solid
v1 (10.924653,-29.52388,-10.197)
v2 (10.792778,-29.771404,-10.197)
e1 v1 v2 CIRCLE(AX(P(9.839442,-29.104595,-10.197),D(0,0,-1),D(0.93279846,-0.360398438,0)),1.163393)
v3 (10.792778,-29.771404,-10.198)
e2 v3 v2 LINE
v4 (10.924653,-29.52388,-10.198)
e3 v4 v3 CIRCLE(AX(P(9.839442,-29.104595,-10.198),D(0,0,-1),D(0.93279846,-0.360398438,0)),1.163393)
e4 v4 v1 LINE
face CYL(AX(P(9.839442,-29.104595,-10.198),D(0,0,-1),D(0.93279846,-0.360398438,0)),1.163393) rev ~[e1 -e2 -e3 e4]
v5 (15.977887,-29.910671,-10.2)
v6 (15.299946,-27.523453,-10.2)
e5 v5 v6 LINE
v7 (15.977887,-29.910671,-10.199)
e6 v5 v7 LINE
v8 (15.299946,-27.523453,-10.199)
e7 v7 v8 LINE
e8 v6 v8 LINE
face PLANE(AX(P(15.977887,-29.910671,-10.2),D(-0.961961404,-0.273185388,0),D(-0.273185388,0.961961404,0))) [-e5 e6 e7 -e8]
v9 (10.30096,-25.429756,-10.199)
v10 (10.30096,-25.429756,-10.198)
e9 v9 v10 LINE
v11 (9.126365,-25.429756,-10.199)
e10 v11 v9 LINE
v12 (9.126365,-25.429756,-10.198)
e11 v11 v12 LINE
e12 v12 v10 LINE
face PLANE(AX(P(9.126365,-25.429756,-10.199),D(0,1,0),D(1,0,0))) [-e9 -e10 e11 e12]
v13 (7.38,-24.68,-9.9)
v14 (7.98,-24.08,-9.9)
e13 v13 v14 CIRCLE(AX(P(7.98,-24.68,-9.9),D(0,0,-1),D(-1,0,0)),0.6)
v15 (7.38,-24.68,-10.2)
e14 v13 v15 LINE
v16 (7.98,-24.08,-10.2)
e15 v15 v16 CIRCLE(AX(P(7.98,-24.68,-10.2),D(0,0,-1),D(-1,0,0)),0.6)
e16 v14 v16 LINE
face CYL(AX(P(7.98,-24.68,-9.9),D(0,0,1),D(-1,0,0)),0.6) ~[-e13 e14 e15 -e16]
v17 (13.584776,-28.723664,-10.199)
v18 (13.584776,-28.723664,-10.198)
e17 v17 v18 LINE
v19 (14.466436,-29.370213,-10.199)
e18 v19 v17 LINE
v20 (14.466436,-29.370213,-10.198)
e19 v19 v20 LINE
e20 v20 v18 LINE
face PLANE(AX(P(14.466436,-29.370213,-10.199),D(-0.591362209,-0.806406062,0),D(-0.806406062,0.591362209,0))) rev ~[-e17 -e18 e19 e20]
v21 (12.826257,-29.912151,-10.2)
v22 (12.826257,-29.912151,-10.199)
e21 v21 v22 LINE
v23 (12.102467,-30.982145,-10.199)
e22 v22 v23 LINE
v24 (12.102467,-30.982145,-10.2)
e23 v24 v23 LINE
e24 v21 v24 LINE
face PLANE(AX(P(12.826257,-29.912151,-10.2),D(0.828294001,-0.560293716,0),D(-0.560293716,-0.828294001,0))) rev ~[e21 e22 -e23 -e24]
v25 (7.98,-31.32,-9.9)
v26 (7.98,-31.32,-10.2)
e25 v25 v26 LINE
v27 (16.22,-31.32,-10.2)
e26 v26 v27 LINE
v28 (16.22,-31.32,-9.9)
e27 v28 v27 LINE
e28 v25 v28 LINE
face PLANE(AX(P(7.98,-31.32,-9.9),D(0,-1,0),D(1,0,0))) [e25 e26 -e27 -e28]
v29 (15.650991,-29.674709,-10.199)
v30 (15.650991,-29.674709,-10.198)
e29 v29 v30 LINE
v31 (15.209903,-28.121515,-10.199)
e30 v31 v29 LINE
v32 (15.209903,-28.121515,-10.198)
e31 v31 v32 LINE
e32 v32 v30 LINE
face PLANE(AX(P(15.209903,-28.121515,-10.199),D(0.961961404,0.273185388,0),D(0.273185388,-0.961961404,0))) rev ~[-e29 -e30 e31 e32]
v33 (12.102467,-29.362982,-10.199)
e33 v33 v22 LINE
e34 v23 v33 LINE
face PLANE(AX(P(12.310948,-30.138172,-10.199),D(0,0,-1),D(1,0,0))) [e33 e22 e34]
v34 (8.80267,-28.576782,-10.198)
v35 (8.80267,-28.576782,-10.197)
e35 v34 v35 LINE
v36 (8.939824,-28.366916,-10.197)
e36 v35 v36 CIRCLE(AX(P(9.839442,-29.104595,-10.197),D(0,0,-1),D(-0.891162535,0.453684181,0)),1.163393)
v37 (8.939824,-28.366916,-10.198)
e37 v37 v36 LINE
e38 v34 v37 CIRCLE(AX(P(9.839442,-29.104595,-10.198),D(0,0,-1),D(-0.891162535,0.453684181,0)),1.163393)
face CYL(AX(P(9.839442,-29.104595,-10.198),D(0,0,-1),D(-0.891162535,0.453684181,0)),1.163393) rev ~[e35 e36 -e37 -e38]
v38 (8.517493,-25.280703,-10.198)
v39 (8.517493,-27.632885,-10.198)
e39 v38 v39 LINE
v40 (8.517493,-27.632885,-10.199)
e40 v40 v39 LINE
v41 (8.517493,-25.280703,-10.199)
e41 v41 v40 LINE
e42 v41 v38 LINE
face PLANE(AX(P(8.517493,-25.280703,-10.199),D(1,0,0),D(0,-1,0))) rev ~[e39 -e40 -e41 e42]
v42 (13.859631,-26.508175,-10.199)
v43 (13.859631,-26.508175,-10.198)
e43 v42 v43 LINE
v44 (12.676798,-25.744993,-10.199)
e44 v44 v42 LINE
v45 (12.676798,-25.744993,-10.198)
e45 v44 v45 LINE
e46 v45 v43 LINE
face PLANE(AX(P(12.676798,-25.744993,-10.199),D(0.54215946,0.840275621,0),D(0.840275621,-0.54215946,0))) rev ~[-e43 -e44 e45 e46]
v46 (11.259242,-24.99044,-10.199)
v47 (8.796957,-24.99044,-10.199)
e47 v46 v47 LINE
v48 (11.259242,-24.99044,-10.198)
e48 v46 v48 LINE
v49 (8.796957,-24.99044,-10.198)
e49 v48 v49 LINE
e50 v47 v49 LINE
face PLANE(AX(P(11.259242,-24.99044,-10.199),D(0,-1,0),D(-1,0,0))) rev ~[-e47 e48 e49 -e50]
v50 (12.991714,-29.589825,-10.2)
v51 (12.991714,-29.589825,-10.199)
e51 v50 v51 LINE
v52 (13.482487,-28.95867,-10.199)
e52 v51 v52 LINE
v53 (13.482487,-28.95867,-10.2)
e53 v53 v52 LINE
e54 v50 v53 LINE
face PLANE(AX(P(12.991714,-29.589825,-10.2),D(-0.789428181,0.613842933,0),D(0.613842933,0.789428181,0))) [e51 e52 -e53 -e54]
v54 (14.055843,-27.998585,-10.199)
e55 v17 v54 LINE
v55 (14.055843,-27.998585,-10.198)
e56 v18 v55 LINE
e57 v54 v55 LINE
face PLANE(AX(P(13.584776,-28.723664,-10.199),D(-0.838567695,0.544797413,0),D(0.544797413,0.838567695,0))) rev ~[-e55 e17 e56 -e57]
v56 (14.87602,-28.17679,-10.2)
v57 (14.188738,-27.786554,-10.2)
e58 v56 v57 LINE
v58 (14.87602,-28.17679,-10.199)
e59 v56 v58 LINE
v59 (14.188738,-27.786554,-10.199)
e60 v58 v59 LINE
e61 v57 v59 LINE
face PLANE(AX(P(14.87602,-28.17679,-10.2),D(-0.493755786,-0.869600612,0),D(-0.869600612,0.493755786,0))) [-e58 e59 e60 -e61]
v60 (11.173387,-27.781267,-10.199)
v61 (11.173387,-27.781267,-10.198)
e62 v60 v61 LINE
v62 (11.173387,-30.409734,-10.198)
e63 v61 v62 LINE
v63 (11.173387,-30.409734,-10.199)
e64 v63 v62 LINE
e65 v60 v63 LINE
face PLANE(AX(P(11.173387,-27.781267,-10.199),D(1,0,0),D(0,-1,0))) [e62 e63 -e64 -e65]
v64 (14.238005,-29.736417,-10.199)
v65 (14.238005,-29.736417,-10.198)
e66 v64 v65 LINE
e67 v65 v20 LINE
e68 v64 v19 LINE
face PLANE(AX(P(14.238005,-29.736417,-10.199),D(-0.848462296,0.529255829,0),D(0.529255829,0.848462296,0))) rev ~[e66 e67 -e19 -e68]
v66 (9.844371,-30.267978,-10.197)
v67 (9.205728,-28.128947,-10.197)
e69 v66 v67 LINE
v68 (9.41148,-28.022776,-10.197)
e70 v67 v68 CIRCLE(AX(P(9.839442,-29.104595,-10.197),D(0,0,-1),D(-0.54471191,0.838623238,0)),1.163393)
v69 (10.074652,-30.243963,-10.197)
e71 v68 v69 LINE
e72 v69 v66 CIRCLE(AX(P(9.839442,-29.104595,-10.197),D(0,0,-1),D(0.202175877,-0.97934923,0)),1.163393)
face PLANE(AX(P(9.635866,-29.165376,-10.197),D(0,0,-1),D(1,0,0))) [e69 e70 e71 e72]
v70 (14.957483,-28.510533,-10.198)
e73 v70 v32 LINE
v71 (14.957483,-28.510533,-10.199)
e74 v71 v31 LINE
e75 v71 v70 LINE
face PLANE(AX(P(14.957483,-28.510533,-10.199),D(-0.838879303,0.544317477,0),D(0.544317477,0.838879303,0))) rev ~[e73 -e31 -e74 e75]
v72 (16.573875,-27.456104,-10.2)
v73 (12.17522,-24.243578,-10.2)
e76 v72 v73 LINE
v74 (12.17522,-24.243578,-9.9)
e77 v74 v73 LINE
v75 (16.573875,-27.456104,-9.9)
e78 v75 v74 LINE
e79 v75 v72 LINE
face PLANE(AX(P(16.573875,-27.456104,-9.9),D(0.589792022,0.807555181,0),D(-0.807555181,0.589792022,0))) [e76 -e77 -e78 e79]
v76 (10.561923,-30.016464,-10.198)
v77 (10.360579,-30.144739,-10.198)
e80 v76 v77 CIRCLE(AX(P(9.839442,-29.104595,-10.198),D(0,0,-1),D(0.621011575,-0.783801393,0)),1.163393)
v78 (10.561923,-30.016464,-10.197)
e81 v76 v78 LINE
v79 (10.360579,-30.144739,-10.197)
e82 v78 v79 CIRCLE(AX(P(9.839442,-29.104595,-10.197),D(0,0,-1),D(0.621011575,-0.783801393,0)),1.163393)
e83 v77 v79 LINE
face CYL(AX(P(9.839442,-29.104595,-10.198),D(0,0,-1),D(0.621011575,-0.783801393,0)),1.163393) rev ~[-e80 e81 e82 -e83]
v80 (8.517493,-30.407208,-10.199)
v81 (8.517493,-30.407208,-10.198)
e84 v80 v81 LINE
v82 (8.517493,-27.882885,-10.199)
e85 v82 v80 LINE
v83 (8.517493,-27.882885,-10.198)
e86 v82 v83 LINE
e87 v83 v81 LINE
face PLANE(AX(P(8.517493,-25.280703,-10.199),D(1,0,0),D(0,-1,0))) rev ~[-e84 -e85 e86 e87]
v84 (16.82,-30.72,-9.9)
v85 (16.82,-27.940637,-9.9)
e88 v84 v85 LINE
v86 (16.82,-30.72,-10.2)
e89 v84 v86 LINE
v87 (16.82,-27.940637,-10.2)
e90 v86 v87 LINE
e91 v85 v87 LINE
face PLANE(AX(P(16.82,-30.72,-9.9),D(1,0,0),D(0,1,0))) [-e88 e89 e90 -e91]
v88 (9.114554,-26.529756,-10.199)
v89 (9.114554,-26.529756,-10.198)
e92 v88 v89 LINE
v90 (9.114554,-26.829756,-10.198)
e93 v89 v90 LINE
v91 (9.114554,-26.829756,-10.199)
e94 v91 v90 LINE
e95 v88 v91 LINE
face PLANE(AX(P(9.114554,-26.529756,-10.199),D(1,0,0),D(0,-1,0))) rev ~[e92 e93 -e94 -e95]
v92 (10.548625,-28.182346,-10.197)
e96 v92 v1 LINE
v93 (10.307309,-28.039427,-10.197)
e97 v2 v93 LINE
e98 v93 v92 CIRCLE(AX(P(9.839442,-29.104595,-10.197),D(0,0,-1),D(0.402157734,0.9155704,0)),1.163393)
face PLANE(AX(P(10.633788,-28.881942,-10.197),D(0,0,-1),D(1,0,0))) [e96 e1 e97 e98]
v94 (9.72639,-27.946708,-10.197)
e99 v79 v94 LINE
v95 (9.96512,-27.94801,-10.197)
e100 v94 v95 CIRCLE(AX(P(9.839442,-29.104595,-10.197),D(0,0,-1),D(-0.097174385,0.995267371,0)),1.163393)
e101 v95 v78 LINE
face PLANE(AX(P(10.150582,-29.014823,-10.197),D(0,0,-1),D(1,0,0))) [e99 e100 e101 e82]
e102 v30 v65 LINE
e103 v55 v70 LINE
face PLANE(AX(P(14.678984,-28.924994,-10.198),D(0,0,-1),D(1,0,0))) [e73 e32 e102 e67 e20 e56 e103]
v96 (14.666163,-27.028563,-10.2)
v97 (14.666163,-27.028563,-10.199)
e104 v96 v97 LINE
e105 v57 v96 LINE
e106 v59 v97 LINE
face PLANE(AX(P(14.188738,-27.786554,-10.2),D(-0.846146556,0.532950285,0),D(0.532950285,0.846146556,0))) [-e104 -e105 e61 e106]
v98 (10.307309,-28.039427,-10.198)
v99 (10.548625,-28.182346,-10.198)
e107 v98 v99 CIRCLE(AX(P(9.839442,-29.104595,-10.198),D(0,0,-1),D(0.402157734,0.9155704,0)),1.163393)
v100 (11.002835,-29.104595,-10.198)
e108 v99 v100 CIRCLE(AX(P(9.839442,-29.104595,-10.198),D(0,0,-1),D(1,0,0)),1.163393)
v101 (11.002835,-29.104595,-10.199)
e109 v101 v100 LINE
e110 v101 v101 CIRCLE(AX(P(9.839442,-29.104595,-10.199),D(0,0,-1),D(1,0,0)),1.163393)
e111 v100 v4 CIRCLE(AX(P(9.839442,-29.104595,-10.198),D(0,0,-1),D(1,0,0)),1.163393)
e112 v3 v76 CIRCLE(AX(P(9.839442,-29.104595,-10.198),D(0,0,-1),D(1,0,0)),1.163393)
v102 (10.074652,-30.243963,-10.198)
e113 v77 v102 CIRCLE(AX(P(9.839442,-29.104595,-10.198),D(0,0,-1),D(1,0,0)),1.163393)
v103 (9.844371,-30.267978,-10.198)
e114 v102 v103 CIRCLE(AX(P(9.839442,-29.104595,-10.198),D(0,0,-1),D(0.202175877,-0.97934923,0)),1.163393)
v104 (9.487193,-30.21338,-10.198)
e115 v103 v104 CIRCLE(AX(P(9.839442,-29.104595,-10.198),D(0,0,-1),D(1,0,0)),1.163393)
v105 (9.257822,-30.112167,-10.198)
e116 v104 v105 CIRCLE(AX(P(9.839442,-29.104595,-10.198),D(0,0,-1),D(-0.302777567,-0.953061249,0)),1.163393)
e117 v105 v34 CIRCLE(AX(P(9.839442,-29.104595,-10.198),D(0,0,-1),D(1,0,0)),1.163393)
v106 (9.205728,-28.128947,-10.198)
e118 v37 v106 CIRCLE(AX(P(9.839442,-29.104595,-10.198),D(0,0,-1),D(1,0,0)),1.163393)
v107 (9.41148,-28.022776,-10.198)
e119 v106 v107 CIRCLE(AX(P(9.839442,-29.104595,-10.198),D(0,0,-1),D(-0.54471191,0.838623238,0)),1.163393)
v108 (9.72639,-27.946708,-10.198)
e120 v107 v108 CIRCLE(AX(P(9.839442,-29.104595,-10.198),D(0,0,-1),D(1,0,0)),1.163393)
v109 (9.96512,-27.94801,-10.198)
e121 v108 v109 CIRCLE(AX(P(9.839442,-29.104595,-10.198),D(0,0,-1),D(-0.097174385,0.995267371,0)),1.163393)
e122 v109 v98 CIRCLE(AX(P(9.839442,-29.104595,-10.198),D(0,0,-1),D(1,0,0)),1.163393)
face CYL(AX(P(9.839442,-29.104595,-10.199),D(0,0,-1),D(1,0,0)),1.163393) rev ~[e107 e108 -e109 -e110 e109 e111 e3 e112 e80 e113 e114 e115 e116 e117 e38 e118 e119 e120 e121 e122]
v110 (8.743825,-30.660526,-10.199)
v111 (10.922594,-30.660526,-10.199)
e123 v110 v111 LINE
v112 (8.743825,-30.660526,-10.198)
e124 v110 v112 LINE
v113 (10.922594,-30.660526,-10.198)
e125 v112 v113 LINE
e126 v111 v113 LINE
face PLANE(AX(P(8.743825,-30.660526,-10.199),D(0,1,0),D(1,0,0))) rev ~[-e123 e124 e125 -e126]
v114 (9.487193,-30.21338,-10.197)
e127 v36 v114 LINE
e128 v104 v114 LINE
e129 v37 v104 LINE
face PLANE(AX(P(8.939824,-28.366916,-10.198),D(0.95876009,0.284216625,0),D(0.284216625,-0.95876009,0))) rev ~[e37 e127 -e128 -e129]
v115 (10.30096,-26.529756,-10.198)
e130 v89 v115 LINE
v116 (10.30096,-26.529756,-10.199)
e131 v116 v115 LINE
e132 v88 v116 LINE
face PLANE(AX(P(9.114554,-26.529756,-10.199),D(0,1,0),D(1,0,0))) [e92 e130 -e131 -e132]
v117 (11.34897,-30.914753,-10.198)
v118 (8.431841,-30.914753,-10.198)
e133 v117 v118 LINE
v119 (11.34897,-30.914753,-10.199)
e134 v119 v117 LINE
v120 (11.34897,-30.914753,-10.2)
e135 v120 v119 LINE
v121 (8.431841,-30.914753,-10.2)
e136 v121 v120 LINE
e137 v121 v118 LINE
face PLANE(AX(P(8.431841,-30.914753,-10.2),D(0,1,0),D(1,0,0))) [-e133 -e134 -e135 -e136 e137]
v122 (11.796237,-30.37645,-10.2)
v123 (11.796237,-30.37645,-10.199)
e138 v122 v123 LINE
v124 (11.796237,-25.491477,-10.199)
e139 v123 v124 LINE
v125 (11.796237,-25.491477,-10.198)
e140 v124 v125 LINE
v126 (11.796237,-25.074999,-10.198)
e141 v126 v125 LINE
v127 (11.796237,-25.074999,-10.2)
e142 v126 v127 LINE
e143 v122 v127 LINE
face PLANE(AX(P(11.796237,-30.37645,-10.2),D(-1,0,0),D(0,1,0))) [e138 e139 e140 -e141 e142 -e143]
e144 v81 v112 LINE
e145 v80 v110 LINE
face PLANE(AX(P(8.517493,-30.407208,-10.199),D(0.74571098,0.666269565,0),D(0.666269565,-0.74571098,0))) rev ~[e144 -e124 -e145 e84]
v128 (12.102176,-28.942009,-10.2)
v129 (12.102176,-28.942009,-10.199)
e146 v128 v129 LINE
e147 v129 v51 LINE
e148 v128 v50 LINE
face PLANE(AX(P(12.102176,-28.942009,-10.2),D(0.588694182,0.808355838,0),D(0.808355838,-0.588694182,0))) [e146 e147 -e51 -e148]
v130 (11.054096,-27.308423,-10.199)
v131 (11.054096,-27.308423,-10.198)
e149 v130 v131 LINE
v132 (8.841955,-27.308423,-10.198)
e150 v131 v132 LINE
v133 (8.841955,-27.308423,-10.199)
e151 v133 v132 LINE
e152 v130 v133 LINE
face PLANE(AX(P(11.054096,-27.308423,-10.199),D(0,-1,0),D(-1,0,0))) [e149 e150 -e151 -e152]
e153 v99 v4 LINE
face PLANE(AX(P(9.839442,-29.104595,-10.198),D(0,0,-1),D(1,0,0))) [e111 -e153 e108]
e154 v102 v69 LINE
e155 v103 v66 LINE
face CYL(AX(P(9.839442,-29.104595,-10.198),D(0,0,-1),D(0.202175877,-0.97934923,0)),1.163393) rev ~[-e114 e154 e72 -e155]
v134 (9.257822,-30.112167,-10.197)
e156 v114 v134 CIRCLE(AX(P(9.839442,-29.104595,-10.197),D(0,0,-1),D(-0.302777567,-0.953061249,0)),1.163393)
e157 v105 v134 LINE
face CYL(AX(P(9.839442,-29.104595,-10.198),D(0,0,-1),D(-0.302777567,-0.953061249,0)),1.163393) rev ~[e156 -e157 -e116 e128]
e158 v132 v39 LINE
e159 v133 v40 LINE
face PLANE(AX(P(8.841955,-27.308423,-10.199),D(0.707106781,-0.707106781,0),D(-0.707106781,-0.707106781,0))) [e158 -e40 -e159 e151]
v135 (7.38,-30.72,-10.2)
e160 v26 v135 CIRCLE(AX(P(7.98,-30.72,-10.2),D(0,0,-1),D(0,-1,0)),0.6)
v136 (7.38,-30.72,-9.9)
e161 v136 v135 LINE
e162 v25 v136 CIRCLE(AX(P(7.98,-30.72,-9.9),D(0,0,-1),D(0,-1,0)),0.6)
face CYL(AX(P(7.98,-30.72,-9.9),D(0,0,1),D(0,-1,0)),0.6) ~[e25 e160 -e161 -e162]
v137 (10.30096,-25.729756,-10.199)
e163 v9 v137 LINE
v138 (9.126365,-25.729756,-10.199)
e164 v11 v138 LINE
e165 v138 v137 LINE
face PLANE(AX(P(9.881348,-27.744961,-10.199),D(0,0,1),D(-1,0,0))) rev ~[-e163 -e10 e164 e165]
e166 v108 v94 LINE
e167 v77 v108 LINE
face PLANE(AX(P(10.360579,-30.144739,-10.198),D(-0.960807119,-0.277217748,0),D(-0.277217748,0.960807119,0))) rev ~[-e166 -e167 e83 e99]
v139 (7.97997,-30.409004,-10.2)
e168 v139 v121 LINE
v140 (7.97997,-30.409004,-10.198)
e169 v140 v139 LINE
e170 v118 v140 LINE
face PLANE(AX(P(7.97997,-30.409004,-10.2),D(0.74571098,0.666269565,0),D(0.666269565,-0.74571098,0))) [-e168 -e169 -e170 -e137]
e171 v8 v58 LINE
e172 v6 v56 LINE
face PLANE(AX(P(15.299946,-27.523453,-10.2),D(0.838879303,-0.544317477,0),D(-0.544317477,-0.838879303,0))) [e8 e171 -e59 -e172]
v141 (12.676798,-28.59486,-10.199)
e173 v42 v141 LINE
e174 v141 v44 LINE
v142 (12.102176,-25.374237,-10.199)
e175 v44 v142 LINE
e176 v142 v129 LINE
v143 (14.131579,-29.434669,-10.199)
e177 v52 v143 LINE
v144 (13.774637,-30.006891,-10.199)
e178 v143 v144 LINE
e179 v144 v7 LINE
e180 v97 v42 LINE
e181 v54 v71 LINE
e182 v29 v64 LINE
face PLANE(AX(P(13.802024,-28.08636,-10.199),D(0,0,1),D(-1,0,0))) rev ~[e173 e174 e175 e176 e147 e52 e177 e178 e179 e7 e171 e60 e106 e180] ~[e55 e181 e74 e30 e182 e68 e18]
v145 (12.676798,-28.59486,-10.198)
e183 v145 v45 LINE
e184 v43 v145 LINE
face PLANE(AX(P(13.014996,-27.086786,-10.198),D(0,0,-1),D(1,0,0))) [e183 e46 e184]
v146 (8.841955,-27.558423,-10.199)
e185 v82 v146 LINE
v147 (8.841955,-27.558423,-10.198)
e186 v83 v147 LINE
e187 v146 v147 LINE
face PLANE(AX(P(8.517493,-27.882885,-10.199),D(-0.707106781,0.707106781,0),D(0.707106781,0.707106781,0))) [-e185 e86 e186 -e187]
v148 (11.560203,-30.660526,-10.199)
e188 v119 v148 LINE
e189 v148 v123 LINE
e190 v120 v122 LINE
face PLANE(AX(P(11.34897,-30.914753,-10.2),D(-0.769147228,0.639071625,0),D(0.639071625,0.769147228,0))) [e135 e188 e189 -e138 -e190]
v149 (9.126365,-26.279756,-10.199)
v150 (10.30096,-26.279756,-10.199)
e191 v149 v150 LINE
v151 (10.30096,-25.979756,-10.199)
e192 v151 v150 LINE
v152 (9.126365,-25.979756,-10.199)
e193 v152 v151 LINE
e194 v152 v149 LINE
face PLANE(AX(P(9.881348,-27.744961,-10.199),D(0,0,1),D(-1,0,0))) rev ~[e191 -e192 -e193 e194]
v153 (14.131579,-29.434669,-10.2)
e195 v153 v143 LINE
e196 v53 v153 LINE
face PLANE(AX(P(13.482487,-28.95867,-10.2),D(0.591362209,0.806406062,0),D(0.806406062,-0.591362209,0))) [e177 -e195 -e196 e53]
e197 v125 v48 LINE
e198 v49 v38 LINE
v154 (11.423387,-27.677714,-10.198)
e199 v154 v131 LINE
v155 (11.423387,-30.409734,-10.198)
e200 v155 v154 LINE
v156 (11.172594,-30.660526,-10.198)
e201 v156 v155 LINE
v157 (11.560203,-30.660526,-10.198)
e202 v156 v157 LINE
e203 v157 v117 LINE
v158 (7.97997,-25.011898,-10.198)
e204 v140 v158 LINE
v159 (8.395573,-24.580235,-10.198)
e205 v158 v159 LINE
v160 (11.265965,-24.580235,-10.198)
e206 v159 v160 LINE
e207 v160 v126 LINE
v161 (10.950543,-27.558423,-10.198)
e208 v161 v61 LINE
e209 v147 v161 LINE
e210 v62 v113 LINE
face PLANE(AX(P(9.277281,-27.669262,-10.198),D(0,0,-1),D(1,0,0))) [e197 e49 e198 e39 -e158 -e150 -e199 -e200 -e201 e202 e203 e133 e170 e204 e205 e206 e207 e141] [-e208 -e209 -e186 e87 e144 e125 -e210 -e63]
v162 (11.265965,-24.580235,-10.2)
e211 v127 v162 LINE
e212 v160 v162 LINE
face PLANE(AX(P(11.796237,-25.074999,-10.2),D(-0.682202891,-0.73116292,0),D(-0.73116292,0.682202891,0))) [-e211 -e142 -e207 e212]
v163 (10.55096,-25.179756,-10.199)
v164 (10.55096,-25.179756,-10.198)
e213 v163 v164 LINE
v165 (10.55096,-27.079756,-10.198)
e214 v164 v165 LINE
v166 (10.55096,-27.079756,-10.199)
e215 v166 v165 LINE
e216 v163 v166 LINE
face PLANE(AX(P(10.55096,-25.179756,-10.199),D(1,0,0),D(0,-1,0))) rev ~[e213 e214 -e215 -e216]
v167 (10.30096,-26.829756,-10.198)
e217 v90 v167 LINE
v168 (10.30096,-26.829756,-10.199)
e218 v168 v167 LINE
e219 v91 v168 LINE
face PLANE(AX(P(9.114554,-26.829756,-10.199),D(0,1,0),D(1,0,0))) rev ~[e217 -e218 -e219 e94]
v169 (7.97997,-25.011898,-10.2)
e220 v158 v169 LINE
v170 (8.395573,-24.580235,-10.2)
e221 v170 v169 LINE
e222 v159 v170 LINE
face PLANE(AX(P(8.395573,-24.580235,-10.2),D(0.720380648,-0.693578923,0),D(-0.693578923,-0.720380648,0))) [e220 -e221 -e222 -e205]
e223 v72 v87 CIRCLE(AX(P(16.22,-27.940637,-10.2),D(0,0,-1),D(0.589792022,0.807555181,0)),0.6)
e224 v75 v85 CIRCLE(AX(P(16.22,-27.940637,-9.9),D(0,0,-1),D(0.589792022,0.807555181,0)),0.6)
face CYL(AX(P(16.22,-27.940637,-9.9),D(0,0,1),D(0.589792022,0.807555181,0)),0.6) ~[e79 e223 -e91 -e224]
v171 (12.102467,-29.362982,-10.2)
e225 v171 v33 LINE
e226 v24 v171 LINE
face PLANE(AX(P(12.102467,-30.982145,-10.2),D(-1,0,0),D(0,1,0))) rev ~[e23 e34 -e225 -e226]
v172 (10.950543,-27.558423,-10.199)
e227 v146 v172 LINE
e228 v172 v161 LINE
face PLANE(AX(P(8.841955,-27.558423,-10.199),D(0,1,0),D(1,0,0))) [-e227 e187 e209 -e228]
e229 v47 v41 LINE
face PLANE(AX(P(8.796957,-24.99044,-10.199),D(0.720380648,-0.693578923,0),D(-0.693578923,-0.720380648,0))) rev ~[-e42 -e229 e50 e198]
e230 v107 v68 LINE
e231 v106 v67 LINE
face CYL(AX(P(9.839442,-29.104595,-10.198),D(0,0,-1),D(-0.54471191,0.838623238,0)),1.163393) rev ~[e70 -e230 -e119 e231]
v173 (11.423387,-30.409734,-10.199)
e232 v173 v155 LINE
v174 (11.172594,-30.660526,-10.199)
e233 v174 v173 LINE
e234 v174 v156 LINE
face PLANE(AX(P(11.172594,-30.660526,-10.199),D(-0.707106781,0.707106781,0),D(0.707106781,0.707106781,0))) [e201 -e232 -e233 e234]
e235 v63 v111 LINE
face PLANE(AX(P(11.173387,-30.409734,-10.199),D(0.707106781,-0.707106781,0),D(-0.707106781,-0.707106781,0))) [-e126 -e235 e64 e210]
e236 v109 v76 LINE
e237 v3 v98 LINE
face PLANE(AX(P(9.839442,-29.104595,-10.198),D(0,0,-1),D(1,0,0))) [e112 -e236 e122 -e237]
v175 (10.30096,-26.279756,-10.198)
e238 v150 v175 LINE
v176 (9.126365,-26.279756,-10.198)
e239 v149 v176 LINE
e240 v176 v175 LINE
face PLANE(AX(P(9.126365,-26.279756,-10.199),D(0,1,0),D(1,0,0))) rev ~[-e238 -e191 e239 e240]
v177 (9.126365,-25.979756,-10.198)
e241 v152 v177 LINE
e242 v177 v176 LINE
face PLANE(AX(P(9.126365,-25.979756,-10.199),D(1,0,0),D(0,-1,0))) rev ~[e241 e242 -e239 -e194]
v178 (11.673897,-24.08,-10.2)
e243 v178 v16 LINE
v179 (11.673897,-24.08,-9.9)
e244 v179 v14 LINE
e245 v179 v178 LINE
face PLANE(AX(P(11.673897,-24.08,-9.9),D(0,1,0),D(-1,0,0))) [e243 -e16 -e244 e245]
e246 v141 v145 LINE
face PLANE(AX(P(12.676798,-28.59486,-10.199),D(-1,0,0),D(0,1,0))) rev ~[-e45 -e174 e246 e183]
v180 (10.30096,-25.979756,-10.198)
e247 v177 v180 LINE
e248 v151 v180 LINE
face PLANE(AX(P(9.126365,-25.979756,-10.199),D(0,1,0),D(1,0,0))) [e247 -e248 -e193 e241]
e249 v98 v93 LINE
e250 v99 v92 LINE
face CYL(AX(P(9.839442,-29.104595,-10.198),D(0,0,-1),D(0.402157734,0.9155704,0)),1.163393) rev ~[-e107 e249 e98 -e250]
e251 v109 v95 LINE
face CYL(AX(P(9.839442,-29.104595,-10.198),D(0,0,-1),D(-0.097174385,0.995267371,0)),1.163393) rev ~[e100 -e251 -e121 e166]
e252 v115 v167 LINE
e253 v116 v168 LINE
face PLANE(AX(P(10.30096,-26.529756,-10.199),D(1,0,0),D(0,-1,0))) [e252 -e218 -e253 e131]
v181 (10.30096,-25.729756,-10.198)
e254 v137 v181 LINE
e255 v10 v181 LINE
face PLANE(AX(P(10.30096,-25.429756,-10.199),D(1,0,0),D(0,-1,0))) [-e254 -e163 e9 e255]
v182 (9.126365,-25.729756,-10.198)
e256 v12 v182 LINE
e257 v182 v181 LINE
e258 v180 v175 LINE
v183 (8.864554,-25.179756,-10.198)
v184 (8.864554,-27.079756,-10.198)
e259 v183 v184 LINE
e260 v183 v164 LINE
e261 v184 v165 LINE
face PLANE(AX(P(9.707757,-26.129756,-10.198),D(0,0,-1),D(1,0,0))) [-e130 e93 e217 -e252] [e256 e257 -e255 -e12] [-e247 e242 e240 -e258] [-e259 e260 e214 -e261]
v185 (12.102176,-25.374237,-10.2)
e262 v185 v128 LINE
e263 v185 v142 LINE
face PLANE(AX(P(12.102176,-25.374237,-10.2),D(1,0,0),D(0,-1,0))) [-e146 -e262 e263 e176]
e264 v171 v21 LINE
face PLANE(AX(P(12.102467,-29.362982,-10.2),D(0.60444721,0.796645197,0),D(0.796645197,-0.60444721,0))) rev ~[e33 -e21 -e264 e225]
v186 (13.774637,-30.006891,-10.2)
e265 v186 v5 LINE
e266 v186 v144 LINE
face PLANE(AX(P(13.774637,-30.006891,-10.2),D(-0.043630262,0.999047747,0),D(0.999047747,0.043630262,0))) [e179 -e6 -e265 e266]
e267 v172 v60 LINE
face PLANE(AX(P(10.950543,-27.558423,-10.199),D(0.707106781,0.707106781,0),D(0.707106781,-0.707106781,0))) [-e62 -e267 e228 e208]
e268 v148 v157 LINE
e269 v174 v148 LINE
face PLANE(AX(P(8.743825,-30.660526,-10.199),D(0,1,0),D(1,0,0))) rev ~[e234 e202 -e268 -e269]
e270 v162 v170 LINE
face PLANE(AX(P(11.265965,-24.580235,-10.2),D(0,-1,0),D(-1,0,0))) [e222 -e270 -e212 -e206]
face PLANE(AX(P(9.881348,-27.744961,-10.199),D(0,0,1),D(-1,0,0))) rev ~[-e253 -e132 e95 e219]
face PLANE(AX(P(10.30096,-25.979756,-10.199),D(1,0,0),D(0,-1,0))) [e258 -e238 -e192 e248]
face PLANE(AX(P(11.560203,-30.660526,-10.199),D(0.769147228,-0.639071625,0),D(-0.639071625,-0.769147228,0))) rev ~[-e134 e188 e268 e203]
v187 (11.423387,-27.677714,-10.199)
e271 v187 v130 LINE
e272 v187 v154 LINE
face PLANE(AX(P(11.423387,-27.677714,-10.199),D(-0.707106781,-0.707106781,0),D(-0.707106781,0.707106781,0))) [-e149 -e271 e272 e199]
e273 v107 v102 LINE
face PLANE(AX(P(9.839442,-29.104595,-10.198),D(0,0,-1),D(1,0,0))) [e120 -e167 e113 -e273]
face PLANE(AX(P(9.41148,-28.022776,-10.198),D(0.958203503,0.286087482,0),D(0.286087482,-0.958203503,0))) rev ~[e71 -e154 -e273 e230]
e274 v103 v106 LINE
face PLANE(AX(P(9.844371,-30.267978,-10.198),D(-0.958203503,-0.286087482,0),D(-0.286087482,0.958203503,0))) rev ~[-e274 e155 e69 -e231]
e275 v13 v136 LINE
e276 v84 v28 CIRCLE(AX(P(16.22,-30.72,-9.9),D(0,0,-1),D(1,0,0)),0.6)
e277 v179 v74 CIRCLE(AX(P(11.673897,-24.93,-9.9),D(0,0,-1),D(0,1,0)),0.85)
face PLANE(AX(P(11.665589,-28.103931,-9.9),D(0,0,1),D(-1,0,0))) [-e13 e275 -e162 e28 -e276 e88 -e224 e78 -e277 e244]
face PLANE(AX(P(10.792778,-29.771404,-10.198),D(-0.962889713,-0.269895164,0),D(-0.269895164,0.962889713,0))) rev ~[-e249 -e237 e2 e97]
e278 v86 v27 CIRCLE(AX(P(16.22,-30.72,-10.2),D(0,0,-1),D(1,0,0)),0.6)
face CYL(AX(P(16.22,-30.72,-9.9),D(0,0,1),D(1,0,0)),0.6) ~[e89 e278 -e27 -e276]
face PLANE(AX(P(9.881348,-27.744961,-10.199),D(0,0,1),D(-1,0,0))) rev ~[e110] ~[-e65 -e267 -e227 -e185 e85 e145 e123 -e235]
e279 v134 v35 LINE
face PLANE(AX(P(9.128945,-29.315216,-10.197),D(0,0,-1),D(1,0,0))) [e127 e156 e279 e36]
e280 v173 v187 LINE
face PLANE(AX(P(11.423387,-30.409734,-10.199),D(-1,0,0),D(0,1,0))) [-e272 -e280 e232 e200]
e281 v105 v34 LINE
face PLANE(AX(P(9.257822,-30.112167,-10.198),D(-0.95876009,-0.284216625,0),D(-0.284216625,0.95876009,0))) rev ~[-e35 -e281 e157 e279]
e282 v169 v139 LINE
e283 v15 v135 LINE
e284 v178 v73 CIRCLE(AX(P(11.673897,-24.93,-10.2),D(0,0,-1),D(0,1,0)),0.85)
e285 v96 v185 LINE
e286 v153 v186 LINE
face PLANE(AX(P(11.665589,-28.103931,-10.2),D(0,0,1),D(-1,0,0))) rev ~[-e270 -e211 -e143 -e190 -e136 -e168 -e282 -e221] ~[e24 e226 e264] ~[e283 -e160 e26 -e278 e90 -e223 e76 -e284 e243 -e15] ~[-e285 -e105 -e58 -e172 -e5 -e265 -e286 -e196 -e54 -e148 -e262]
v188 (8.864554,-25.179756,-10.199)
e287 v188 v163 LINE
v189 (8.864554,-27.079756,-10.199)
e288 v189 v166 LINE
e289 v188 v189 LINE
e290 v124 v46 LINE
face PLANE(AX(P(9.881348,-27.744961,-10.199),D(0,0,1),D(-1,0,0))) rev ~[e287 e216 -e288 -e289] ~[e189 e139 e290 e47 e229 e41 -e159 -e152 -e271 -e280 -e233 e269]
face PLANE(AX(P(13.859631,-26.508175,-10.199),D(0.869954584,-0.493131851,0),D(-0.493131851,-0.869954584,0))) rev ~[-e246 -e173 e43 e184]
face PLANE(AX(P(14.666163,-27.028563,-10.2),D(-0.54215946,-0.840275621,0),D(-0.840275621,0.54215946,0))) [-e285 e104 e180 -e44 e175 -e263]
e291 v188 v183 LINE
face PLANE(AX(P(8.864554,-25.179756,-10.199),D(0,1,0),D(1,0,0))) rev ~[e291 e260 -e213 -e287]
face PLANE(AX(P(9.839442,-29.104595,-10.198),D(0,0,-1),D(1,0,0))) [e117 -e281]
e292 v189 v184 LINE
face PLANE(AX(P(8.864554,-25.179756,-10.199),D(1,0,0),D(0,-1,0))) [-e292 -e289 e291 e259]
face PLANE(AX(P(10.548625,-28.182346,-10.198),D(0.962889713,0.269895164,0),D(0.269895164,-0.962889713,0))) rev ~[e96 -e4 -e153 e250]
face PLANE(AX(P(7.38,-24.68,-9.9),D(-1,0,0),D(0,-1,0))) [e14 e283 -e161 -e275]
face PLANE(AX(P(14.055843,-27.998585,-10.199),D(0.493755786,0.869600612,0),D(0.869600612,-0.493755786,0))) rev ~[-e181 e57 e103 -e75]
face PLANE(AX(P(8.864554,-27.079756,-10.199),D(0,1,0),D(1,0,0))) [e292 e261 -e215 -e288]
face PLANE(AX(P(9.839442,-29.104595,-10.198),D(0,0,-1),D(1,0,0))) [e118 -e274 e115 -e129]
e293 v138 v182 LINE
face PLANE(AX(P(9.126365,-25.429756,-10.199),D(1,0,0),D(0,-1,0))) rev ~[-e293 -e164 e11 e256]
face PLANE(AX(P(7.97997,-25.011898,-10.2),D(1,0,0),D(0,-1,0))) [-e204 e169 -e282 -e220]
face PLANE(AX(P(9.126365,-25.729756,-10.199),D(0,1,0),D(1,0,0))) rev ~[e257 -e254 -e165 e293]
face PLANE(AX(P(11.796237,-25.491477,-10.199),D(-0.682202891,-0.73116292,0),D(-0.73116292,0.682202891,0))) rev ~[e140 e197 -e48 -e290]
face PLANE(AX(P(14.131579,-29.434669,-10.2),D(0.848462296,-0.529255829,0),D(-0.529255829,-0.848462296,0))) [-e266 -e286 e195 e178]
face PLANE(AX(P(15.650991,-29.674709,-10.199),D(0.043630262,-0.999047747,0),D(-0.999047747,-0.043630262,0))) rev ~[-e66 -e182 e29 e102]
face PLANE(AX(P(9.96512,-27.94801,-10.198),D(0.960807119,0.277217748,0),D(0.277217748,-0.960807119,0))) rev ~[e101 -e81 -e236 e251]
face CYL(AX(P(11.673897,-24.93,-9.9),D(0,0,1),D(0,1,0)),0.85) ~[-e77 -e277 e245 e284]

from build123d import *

# Parameters (mm, degrees)
PAD007_DEPTH    = 0.3
POCKET017_DEPTH = 0.001
SKETCH026_R     = 1.163393
SKETCH026_W     = 1.686406
SKETCH026_H     = 1.9
SKETCH026_W_2   = 1.186406
SKETCH026_H_2   = 0.3
SKETCH026_W_3   = 1.174595
POCKET018_DEPTH = 0.001
POCKET019_DEPTH = 0.001
POCKET020_DEPTH = 0.001


with BuildPart() as part:
    # Sketch024 (on Face1 of Binder007) → Pad007 (new body)
    with BuildSketch(Plane(origin=(0, 0, -9.9), x_dir=(1, 0, 0), z_dir=(0, 0, -1))):
        with BuildLine():
            Line((7.98, 31.32), (16.22, 31.32))
            ThreePointArc((16.82, 30.72), (16.6442640687, 31.1442640687), (16.22, 31.32))
            Line((16.82, 30.72), (16.82, 27.9406370227))
            ThreePointArc((16.5738752133, 27.456103914), (16.7549416454, 27.6689065754), (16.82, 27.9406370227))
            Line((16.5738752133, 27.456103914), (12.1752198046, 24.2435780961))
            ThreePointArc((11.6738965857, 24.08), (11.9375643517, 24.1219286485), (12.1752198046, 24.2435780961))
            Line((11.6738965857, 24.08), (7.98, 24.08))
            ThreePointArc((7.38, 24.68), (7.5557359313, 24.2557359313), (7.98, 24.08))
            Line((7.38, 24.68), (7.38, 30.72))
            ThreePointArc((7.98, 31.32), (7.5557359313, 31.1442640687), (7.38, 30.72))
        make_face()
    extrude(amount=PAD007_DEPTH)

    # Sketch025 (on Face12 of Pad007) → Pocket017 (cut)
    with BuildSketch(Plane(origin=(0, 0, -10.2), x_dir=(1, 0, 0), z_dir=(0, 0, -1))):
        Polygon((12.102176, 25.374237), (12.102176, 28.942009), (12.991714, 29.589825), (13.482487, 28.95867), (14.131579, 29.434669), (13.774637, 30.006891), (15.977887, 29.910671), (15.299946, 27.523453), (14.87602, 28.17679), (14.188738, 27.786554), (14.666163, 27.028563), align=None)
        Polygon((12.102467, 30.982145), (12.102467, 29.362982), (12.826257, 29.912151), align=None)
        Polygon((8.431841, 30.914753), (11.34897, 30.914753), (11.796237, 30.37645), (11.796237, 25.074999), (11.265965, 24.580235), (8.395573, 24.580235), (7.97997, 25.011898), (7.97997, 30.409004), align=None)
    extrude(amount=-POCKET017_DEPTH, mode=Mode.SUBTRACT)

    # Sketch026 (on Face37 of Pocket017) → Pocket018 (cut)
    with BuildSketch(Plane(origin=(0, 0, -10.199), x_dir=(1, 0, 0), z_dir=(0, 0, -1))):
        with Locations((9.839442, 29.104595)):
            Circle(SKETCH026_R)
        Polygon((12.6767981502, 25.7449925316), (13.8596307851, 26.5081753331), (12.6767981502, 28.59486), align=None)
        Polygon((13.5847758274, 28.7236640124), (14.0558425062, 27.9985847628), (14.9574833561, 28.5105328695), (15.2099026348, 28.1215148469), (15.6509909251, 29.6747088656), (14.2380048667, 29.7364165785), (14.4664364148, 29.370212665), align=None)
        Polygon((11.796237, 25.4914768154), (11.259242, 24.99044), (8.7969567798, 24.99044), (8.517493, 25.280703), (8.517493, 30.407208), (8.7438247535, 30.660526), (11.5602029814, 30.660526), (11.34897, 30.914753), (8.431841, 30.914753), (7.97997, 30.409004), (7.97997, 25.011898), (8.395573, 24.580235), (11.265965, 24.580235), (11.796237, 25.074999), align=None)
        with Locations((9.707757, 26.129756)):
            Rectangle(SKETCH026_W, SKETCH026_H)
        with Locations((9.707757, 26.679756)):
            Rectangle(SKETCH026_W_2, SKETCH026_H_2, mode=Mode.SUBTRACT)
        with Locations((9.7136625, 26.129756)):
            Rectangle(SKETCH026_W_3, SKETCH026_H_2, mode=Mode.SUBTRACT)
        with Locations((9.7136625, 25.579756)):
            Rectangle(SKETCH026_W_3, SKETCH026_H_2, mode=Mode.SUBTRACT)
    extrude(amount=-POCKET018_DEPTH, mode=Mode.SUBTRACT)

    # Sketch027 (on Face1 of Pocket018) → Pocket019 (cut)
    with BuildSketch(Plane(origin=(0, 0, -10.199), x_dir=(1, 0, 0), z_dir=(0, 0, -1))):
        Polygon((8.517493, 27.6328851722), (8.517493, 27.8828851722), (8.841954765, 27.5584234072), (10.9505429311, 27.5584234072), (11.1733869231, 27.7812673992), (11.1733869231, 30.4097335481), (10.9225944712, 30.660526), (11.1725944712, 30.660526), (11.4233869231, 30.4097335481), (11.4233869231, 27.6777140086), (11.0540963217, 27.3084234072), (8.841954765, 27.3084234072), align=None)
    extrude(amount=-POCKET019_DEPTH, mode=Mode.SUBTRACT)

    # Sketch028 (on Face90 of Pocket019) → Pocket020 (cut)
    with BuildSketch(Plane(origin=(0, 0, -10.198), x_dir=(1, 0, 0), z_dir=(0, 0, -1))):
        with BuildLine():
            Line((9.257822177, 30.1121671582), (8.8026697446, 28.576782))
            ThreePointArc((8.8026697446, 28.576782), (8.8655769652, 28.4681437713), (8.9398235996, 28.3669162039))
            Line((8.9398235996, 28.3669162039), (9.4871926987, 30.2133797862))
            ThreePointArc((9.4871926987, 30.2133797862), (9.3697730907, 30.1689701162), (9.257822177, 30.1121671582))
        make_face()
        with BuildLine():
            Line((9.844371, 30.2679775585), (9.2057279774, 28.1289465951))
            ThreePointArc((9.2057279774, 28.1289465951), (9.3059562649, 28.0707302879), (9.41148, 28.0227762541))
            Line((9.41148, 28.0227762541), (10.074652, 30.243963039))
            ThreePointArc((10.074652, 30.243963039), (9.9601103849, 30.2617131501), (9.844371, 30.2679775585))
        make_face()
        with BuildLine():
            Line((10.3605789255, 30.1447390176), (9.72639, 27.946707908))
            ThreePointArc((9.72639, 27.946707908), (9.8457884939, 27.9412193107), (9.96512, 27.9480102375))
            Line((9.96512, 27.9480102375), (10.5619225192, 30.0164640541))
            ThreePointArc((10.5619225192, 30.0164640541), (10.4645497537, 30.0857797781), (10.3605789255, 30.1447390176))
        make_face()
        with BuildLine():
            Line((10.7927776556, 29.7714041182), (10.3073094918, 28.0394268055))
            ThreePointArc((10.3073094918, 28.0394268055), (10.4322899025, 28.1035881884), (10.5486252769, 28.1823464694))
            Line((10.5486252769, 28.1823464694), (10.9246531985, 29.5238800191))
            ThreePointArc((10.9246531985, 29.5238800191), (10.8662016428, 29.6516305641), (10.7927776556, 29.7714041182))
        make_face()
    extrude(amount=-POCKET020_DEPTH, mode=Mode.SUBTRACT)


solid = part.part
